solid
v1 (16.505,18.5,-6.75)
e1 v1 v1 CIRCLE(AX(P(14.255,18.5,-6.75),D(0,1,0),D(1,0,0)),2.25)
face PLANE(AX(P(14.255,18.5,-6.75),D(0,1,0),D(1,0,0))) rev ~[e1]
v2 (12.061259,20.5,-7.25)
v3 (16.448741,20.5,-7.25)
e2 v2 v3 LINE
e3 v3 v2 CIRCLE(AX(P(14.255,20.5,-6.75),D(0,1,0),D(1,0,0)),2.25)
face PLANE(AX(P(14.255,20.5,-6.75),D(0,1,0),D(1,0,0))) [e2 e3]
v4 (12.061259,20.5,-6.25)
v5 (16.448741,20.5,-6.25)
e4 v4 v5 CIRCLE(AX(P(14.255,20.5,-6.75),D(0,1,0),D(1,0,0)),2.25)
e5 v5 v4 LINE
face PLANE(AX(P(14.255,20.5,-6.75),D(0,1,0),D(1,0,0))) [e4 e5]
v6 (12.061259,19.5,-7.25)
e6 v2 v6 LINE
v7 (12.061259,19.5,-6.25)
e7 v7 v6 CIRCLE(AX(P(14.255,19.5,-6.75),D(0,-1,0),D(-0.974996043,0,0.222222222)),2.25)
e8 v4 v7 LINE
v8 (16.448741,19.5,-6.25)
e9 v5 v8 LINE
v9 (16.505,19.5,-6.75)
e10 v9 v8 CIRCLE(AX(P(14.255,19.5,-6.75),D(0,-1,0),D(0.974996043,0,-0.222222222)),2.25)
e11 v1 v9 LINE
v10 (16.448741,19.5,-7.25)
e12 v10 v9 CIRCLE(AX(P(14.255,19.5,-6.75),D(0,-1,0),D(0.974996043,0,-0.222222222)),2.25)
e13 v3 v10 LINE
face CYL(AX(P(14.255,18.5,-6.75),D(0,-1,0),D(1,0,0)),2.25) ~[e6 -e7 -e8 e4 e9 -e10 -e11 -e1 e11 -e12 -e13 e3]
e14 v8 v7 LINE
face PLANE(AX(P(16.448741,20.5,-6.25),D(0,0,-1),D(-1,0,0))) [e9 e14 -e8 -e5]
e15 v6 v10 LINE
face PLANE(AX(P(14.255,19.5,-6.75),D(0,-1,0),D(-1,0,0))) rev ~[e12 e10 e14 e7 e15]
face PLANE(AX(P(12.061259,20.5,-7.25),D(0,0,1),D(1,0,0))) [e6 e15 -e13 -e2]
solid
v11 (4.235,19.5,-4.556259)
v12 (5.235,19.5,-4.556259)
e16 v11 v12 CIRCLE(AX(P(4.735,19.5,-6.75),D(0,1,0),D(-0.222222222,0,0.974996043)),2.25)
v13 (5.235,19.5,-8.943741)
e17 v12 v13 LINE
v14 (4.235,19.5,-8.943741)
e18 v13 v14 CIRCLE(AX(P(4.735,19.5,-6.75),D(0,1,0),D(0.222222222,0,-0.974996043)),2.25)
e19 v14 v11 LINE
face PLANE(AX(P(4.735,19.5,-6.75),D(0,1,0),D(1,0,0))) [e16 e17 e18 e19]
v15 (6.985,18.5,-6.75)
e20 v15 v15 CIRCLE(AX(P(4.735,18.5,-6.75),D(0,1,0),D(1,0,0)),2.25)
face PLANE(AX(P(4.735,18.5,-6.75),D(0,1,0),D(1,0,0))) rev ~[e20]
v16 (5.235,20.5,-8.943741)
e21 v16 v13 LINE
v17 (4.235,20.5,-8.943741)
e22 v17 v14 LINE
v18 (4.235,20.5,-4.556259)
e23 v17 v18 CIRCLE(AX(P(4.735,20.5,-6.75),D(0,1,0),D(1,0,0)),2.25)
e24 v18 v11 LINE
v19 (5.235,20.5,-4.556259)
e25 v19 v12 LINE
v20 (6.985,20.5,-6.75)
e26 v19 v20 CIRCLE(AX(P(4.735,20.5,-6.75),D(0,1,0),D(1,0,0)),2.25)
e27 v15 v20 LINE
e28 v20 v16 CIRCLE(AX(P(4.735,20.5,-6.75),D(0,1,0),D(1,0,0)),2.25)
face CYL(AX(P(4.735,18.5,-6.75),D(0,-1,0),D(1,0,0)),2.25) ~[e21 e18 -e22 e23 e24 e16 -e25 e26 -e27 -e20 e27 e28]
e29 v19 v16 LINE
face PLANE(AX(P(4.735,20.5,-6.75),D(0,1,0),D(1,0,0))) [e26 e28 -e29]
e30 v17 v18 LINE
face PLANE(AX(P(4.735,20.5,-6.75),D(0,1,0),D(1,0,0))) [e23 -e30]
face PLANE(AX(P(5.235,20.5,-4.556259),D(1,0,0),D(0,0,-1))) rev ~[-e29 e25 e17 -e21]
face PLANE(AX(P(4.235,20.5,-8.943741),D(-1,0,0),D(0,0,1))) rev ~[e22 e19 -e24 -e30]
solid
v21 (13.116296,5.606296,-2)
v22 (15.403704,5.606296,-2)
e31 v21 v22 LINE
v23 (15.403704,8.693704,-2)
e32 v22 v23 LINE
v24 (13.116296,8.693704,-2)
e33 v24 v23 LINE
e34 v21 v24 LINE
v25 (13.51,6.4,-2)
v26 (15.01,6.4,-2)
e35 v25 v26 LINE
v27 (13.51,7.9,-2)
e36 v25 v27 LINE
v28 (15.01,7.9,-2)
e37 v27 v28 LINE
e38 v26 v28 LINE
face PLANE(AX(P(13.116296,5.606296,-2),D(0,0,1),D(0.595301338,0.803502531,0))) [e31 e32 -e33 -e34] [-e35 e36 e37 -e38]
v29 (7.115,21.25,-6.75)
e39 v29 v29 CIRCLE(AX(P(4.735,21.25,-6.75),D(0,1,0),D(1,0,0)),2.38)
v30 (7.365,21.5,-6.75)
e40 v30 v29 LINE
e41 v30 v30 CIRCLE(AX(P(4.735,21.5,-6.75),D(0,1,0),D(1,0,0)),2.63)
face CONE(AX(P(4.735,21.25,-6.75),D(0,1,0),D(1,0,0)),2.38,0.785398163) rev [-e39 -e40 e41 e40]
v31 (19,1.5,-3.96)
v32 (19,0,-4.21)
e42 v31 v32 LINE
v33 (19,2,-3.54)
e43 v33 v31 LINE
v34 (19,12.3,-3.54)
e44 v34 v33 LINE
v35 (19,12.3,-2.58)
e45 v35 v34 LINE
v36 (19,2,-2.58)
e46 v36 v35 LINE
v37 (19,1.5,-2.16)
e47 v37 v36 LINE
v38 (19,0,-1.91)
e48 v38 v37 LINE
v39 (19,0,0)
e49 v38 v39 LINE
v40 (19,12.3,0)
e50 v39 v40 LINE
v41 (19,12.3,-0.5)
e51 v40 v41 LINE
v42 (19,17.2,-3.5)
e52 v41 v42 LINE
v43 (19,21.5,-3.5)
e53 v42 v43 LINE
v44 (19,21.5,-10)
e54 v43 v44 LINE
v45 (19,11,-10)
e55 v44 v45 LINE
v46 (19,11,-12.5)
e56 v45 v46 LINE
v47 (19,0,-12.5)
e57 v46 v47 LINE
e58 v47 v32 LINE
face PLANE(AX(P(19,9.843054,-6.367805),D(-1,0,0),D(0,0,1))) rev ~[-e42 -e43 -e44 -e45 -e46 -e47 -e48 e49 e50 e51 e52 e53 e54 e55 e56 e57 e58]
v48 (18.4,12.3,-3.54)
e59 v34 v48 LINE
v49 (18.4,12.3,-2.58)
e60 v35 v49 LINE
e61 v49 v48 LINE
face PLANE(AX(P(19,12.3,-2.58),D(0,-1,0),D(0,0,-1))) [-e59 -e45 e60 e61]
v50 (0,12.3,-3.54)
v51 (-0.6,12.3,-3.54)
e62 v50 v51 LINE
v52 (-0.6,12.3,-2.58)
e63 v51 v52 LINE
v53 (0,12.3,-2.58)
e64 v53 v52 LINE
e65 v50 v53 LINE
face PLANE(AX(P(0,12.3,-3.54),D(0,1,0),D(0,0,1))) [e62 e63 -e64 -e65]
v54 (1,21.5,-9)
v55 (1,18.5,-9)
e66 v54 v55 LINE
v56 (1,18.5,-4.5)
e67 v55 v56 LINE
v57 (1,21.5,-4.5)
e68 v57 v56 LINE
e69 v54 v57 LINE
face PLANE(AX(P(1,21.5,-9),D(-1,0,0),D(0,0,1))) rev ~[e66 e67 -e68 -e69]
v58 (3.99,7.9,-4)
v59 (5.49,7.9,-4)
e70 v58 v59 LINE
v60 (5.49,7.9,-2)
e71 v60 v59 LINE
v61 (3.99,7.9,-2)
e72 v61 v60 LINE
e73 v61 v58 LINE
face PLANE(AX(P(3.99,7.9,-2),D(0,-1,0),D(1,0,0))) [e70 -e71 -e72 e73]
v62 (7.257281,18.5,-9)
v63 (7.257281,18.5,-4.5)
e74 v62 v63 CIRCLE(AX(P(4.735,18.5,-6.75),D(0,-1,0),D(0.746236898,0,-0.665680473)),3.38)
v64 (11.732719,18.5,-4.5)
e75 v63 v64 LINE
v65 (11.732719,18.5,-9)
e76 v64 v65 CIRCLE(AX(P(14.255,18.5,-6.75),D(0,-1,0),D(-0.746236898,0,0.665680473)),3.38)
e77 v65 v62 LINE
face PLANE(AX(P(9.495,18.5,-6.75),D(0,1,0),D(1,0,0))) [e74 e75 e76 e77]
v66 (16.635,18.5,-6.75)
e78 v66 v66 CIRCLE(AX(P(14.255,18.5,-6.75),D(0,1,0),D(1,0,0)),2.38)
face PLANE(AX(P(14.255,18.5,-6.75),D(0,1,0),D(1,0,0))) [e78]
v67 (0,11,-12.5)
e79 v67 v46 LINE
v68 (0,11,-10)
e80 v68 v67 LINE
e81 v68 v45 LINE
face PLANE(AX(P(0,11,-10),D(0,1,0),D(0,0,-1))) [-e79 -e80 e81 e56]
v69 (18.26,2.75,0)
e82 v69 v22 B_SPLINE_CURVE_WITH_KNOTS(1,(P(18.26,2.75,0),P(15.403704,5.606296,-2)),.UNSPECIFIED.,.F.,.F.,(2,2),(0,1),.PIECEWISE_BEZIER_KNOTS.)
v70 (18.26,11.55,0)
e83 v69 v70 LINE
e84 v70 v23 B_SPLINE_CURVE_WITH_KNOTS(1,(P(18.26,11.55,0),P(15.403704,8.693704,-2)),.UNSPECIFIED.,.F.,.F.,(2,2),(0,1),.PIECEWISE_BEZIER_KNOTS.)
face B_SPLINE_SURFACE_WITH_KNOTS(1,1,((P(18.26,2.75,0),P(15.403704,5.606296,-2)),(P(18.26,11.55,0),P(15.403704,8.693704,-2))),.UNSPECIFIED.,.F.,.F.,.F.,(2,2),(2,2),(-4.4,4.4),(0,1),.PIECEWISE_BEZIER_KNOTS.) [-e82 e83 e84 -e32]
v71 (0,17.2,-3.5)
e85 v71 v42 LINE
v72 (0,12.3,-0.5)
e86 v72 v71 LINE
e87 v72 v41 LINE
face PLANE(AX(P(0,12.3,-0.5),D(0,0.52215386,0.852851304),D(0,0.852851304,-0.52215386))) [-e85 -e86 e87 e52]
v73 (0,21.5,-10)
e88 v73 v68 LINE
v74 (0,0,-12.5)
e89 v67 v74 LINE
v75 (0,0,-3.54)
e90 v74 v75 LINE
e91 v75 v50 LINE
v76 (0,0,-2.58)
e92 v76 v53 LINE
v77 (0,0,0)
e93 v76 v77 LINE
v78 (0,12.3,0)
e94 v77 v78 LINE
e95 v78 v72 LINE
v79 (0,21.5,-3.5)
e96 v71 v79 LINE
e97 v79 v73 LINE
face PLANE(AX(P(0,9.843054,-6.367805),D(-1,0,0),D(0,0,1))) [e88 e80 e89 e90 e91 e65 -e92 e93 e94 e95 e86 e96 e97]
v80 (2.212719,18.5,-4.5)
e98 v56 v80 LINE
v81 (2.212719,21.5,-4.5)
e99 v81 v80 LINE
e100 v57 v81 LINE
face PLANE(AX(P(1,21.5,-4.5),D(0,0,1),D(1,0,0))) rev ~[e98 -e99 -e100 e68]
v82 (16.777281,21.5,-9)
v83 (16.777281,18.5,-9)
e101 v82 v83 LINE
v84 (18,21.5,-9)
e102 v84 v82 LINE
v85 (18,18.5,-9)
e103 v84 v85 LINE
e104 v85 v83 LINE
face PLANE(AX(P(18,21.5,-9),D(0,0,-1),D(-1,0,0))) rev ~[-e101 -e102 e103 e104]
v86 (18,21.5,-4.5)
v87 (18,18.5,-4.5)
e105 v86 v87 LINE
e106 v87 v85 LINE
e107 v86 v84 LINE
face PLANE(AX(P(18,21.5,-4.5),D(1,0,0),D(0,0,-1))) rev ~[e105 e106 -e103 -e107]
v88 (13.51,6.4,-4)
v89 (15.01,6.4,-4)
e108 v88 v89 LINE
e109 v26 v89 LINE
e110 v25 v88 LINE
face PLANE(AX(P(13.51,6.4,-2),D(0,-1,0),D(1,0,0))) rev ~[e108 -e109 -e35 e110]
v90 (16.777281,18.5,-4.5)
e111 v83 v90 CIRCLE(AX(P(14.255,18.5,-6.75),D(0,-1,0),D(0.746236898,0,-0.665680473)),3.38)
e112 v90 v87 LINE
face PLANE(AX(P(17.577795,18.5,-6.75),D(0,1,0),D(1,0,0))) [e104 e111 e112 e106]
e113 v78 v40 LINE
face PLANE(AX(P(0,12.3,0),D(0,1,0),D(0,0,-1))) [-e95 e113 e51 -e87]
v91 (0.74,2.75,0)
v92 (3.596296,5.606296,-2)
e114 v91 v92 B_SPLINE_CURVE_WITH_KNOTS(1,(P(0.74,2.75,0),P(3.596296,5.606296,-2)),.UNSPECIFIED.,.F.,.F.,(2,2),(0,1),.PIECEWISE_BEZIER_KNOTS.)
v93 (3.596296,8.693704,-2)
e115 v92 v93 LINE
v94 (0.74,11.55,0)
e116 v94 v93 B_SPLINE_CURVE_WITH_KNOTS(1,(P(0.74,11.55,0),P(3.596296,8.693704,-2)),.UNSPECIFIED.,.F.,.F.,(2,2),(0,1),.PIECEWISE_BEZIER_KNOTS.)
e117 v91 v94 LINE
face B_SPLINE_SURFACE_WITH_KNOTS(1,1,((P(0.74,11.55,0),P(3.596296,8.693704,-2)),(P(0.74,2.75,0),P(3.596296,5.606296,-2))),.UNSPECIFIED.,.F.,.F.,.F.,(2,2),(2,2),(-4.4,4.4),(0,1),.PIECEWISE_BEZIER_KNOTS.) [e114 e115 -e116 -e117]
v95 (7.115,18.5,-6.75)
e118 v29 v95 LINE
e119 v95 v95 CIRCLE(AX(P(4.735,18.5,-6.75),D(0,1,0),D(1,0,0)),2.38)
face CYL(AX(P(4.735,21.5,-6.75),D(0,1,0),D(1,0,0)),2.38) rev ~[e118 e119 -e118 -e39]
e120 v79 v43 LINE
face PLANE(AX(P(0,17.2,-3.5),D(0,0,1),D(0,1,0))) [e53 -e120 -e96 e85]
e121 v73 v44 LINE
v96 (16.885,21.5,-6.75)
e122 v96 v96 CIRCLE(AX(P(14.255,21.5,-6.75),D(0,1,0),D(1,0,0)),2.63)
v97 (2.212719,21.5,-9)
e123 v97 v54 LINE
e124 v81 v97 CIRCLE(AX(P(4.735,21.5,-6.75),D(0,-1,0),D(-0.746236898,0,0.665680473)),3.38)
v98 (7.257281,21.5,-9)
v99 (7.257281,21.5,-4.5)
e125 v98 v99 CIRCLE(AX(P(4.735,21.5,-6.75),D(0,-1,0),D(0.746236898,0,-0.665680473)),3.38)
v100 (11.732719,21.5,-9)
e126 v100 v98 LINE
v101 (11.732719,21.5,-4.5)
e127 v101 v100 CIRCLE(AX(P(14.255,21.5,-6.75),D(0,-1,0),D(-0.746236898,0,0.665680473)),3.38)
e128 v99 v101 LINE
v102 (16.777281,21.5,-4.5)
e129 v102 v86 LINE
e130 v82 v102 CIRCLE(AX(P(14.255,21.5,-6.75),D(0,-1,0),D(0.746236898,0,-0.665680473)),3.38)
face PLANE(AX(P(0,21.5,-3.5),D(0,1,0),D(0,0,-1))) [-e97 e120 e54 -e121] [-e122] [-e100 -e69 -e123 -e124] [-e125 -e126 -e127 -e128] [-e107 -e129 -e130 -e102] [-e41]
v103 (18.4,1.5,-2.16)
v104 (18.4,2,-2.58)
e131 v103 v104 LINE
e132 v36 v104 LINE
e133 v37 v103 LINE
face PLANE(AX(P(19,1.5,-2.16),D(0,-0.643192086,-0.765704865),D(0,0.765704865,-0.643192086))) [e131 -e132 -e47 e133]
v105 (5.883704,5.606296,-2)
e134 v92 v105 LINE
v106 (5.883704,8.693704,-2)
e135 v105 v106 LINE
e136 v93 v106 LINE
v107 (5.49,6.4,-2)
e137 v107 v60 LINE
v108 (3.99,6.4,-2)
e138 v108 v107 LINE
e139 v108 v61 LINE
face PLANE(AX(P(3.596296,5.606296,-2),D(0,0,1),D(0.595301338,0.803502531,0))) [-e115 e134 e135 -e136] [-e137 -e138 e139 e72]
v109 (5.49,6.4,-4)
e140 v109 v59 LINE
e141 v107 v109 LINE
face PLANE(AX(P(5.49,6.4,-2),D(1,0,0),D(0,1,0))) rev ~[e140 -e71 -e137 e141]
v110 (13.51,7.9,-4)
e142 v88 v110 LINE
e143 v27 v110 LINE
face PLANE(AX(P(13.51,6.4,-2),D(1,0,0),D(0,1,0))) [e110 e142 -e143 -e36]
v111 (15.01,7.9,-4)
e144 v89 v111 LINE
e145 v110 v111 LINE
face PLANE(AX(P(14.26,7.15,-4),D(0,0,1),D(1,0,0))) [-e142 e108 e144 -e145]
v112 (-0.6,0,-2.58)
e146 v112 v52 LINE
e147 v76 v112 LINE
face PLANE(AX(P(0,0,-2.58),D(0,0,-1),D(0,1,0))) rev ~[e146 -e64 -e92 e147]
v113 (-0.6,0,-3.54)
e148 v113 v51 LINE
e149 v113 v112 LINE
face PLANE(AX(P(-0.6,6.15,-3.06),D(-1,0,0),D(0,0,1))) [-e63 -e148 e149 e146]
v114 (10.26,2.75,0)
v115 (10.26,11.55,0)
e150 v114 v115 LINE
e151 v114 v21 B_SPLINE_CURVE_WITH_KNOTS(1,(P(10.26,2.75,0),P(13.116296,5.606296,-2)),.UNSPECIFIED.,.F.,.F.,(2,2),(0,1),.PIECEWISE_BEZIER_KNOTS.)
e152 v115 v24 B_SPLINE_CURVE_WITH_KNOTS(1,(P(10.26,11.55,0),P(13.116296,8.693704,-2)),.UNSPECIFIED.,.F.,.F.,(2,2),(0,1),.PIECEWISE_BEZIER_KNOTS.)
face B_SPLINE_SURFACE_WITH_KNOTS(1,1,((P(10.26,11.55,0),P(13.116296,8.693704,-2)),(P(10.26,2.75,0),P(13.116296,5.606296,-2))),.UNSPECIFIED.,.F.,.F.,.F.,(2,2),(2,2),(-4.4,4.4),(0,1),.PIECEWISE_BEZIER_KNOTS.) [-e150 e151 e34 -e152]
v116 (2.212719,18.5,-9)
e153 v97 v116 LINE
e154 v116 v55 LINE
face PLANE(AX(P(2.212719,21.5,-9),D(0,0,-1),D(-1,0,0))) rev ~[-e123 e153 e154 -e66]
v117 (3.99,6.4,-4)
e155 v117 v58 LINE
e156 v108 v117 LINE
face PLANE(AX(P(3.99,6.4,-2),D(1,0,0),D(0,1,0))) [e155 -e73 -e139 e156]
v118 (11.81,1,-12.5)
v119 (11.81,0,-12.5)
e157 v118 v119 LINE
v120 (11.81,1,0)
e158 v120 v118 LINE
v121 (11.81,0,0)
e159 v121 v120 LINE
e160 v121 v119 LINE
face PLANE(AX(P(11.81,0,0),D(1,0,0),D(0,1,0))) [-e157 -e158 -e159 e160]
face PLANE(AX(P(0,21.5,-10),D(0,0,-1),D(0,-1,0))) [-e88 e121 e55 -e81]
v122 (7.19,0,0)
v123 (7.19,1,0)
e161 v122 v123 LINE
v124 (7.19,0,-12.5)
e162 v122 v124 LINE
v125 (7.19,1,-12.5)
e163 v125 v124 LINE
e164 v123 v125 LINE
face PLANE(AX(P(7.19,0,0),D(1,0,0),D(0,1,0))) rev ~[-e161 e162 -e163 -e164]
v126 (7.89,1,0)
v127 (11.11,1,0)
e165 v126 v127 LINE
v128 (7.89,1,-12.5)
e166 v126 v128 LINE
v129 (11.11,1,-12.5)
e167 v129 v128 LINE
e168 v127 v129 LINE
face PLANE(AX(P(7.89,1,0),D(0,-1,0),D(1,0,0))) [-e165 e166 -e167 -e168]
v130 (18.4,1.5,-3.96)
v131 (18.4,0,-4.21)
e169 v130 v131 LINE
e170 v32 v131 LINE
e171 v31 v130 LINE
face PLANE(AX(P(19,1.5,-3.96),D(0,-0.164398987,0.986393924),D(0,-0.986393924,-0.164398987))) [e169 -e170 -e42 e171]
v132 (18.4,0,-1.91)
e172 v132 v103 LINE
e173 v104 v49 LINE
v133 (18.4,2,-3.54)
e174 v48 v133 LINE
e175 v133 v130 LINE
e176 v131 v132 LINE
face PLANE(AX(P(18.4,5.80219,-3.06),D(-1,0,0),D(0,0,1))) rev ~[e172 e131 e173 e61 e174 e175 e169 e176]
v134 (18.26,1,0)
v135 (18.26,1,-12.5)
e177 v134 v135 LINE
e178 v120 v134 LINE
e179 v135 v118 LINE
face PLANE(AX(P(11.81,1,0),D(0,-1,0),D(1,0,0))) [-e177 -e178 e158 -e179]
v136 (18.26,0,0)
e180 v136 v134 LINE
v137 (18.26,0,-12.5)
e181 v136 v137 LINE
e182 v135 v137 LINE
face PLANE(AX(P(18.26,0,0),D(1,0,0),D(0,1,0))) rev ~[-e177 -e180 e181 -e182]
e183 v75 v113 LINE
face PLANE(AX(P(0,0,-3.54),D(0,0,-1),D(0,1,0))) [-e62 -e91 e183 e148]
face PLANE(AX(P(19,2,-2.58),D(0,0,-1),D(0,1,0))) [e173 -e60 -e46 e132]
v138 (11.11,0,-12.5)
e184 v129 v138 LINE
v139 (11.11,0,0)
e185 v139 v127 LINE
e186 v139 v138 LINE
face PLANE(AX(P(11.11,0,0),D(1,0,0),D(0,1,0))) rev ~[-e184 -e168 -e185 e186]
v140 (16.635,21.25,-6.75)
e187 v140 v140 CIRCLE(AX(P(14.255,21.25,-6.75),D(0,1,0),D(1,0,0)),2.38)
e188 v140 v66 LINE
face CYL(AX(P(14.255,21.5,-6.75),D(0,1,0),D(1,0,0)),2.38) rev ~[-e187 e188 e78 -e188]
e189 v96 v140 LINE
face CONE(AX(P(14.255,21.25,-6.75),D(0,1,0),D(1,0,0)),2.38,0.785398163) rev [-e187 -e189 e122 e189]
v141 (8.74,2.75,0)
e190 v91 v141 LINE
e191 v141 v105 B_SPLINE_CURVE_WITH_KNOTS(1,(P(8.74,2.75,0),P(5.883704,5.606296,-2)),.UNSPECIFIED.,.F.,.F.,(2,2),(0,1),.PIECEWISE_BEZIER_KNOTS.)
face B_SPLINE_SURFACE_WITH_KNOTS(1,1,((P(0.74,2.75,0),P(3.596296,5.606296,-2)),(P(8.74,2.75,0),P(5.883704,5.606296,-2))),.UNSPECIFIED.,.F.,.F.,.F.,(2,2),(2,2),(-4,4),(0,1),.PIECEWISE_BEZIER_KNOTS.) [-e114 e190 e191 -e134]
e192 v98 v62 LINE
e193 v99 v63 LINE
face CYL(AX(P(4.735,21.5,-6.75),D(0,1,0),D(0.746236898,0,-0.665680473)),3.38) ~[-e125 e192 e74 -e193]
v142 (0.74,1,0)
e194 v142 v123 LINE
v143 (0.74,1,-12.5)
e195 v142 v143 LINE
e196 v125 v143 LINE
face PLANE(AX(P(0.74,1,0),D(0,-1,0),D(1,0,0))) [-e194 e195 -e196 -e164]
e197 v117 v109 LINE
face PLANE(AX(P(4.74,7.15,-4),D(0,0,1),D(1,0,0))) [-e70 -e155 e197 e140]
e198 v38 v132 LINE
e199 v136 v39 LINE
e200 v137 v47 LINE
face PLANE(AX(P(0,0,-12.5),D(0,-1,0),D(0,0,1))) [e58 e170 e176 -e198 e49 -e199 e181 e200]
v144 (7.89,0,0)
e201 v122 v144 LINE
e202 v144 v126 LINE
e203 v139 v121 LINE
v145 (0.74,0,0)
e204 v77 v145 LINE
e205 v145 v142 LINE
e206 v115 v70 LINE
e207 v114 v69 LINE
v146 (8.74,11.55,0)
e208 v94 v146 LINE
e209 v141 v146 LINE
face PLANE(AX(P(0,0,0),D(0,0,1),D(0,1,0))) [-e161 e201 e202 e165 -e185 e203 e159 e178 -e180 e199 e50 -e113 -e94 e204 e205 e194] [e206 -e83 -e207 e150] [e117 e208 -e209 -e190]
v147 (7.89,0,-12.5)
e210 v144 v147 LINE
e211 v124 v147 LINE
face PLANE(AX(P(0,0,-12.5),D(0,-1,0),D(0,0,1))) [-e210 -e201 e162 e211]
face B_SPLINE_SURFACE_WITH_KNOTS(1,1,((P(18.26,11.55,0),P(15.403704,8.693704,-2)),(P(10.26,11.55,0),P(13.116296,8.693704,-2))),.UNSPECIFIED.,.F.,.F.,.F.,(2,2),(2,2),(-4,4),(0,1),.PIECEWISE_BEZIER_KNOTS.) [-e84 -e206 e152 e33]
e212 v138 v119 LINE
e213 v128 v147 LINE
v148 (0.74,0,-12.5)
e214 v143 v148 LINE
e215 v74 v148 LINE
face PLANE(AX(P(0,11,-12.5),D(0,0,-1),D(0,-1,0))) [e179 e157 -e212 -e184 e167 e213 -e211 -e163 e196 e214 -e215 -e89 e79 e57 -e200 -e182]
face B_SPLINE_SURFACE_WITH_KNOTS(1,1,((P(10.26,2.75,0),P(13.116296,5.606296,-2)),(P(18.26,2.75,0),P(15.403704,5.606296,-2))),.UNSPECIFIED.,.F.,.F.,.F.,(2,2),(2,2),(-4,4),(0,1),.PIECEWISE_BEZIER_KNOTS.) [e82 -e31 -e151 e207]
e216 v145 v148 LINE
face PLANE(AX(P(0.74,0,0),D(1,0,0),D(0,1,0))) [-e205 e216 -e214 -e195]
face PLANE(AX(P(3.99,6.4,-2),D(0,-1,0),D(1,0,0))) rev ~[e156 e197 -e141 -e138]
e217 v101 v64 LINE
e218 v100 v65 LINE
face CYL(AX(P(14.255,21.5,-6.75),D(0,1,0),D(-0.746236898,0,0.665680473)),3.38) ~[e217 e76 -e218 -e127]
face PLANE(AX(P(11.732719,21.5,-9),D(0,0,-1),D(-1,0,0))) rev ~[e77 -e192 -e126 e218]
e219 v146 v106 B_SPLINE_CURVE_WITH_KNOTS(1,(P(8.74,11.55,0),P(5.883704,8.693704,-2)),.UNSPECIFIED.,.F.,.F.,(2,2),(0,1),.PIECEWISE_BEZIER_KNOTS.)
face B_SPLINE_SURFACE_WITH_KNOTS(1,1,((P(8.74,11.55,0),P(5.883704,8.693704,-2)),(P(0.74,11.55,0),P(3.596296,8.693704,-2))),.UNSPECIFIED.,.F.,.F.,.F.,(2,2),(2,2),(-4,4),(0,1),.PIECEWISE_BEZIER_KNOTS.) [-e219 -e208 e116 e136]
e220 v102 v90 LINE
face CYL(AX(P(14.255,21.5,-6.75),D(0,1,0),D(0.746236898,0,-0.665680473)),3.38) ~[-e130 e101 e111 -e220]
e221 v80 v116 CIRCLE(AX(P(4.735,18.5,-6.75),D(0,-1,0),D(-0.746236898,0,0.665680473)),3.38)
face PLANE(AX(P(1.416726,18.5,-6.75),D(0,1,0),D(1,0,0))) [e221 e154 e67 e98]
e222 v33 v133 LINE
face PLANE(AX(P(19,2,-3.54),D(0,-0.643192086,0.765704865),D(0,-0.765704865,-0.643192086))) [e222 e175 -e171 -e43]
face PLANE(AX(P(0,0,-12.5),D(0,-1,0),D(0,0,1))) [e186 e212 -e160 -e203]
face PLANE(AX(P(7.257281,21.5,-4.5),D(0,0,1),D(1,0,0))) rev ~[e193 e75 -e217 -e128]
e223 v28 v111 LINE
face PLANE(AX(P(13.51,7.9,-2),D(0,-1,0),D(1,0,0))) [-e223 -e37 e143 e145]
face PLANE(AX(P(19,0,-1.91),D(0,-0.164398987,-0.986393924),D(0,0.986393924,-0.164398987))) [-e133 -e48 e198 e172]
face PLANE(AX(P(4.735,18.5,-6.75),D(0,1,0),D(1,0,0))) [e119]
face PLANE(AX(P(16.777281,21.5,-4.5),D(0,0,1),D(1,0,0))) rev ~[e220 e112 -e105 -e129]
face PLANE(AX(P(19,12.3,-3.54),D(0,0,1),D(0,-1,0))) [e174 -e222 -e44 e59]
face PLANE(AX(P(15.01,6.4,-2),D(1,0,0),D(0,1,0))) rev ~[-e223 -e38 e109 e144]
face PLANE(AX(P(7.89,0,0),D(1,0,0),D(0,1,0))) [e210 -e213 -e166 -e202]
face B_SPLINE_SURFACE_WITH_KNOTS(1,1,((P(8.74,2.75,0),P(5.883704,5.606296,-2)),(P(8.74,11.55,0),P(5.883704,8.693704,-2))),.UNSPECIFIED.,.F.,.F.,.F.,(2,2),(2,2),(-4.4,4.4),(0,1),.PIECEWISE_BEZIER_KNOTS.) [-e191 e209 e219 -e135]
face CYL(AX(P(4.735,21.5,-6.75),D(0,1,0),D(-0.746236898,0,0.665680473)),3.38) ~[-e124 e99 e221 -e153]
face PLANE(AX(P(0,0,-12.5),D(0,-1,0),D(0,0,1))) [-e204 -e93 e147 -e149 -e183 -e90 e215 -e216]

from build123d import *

# Parameters (mm, degrees)
BOSS_EXTRUDE1_DEPTH   = 19
SKETCH2_R             = 2.38
CUT_EXTRUDE1_DEPTH    = 3
CUT_EXTRUDE2_DEPTH    = 0.6
SKETCH4_W             = 0.96
SKETCH4_H             = 12.3
BOSS_EXTRUDE2_DEPTH   = 0.6
CHAMFER1_SIZE         = 0.25
SKETCH6_R             = 2.25
BOSS_EXTRUDE3_DEPTH   = 2
BOSS_EXTRUDE3_2_DEPTH = 2
CUT_EXTRUDE3_DEPTH    = 1
SKETCH8_W             = 8
SKETCH8_H             = 8.8
CUT_EXTRUDE4_DEPTH    = 2
CUT_EXTRUDE4_TAPER    = 55
SKETCH9_W             = 1.5
SKETCH9_H             = 1.5
CUT_EXTRUDE5_DEPTH    = 2
SKETCH10_W            = 6.45
SKETCH10_H            = 1
SKETCH10_W_2          = 3.22
CUT_EXTRUDE6_DEPTH    = 13.5


with BuildPart() as part:
    # Sketch1 → Boss-Extrude1 (new body)
    with BuildSketch(Plane(origin=(0, 0, 0), x_dir=(0, 0, -1), z_dir=(1, 0, 0))):
        Polygon((0, 0), (0, 12.3), (0.5, 12.3), (3.5, 17.2), (3.5, 21.5), (10, 21.5), (10, 11), (12.5, 11), (12.5, 0), align=None)
    extrude(amount=BOSS_EXTRUDE1_DEPTH)

    # Sketch2 → Cut-Extrude1 (cut)
    with BuildSketch(Plane(origin=(0, 21.5, 0), x_dir=(1, 0, 0), z_dir=(0, 1, 0))):
        with Locations((4.735, 6.75)):
            Circle(SKETCH2_R)
        with Locations((14.255, 6.75)):
            Circle(SKETCH2_R)
        with BuildLine():
            Line((16.777280714, 4.5), (18, 4.5))
            Line((18, 4.5), (18, 9))
            Line((18, 9), (16.777280714, 9))
            ThreePointArc((16.777280714, 9), (17.635, 6.75), (16.777280714, 4.5))
        make_face()
        with BuildLine():
            Line((11.732719286, 9), (7.257280714, 9))
            ThreePointArc((7.257280714, 9), (8.115, 6.75), (7.257280714, 4.5))
            Line((7.257280714, 4.5), (11.732719286, 4.5))
            ThreePointArc((11.732719286, 4.5), (10.875, 6.75), (11.732719286, 9))
        make_face()
        with BuildLine():
            Line((1, 9), (1, 4.5))
            Line((1, 4.5), (2.212719286, 4.5))
            ThreePointArc((2.212719286, 4.5), (1.355, 6.75), (2.212719286, 9))
            Line((2.212719286, 9), (1, 9))
        make_face()
    extrude(amount=-CUT_EXTRUDE1_DEPTH, mode=Mode.SUBTRACT)

    # Sketch3 → Cut-Extrude2 (cut)
    with BuildSketch(Plane(origin=(19, 0, 0), x_dir=(0, 0, -1), z_dir=(1, 0, 0))):
        Polygon((1.91, 0), (2.16, 1.5), (2.58, 2), (2.58, 12.3), (3.54, 12.3), (3.54, 2), (3.96, 1.5), (4.21, 0), align=None)
    extrude(amount=-CUT_EXTRUDE2_DEPTH, mode=Mode.SUBTRACT)

    # Sketch4 → Boss-Extrude2 (add)
    with BuildSketch(Plane.ZY):
        with Locations((-3.06, 6.15)):
            Rectangle(SKETCH4_W, SKETCH4_H)
    extrude(amount=BOSS_EXTRUDE2_DEPTH)

    # Chamfer1
    chamfer1_edges = [part.edges().sort_by_distance(p)[0] for p in [
        (2.355, 21.5, -6.75),
        (11.875, 21.5, -6.75),
    ]]
    chamfer(chamfer1_edges, length=CHAMFER1_SIZE)

    # Sketch8 → Cut-Extrude4 (cut)
    with BuildSketch(Plane.XY):
        with Locations((14.26, 7.15)):
            Rectangle(SKETCH8_W, SKETCH8_H)
        with Locations((4.74, 7.15)):
            Rectangle(SKETCH8_W, SKETCH8_H)
    extrude(amount=-CUT_EXTRUDE4_DEPTH, taper=CUT_EXTRUDE4_TAPER, mode=Mode.SUBTRACT)

    # Sketch9 → Cut-Extrude5 (cut)
    with BuildSketch(Plane.XY.offset(-2)):
        with Locations((4.74, 7.15)):
            Rectangle(SKETCH9_W, SKETCH9_H)
        with Locations((14.26, 7.15)):
            Rectangle(SKETCH9_W, SKETCH9_H)
    extrude(amount=-CUT_EXTRUDE5_DEPTH, mode=Mode.SUBTRACT)

    # Sketch10 → Cut-Extrude6 (cut, through all)
    with BuildSketch(Plane.XY):
        with Locations((3.965, 0.5)):
            Rectangle(SKETCH10_W, SKETCH10_H)
        with Locations((9.5, 0.5)):
            Rectangle(SKETCH10_W_2, SKETCH10_H)
        with Locations((15.035, 0.5)):
            Rectangle(SKETCH10_W, SKETCH10_H)
    extrude(amount=-CUT_EXTRUDE6_DEPTH, mode=Mode.SUBTRACT)


with BuildPart() as body_2:
    # Sketch6 → Boss-Extrude3 (new body)
    with BuildSketch(Plane(origin=(0, 18.5, 0), x_dir=(1, 0, 0), z_dir=(0, 1, 0))):
        with Locations((14.255, 6.75)):
            Circle(SKETCH6_R)
    extrude(amount=BOSS_EXTRUDE3_DEPTH)


with BuildPart() as body_3:
    # Sketch6 → Boss-Extrude3 2 (new body)
    with BuildSketch(Plane(origin=(0, 18.5, 0), x_dir=(1, 0, 0), z_dir=(0, 1, 0))):
        with Locations((4.735, 6.75)):
            Circle(SKETCH6_R)
    extrude(amount=BOSS_EXTRUDE3_2_DEPTH)


with BuildPart() as cut_extrude3_tool:
    # Sketch7 → Cut-Extrude3 (new body)
    with BuildSketch(Plane(origin=(0, 20.5, 0), x_dir=(1, 0, 0), z_dir=(0, 1, 0))):
        with BuildLine():
            Line((4.235, 8.943741097), (4.235, 4.556258903))
            ThreePointArc((4.235, 4.556258903), (4.735, 4.5), (5.235, 4.556258903))
            Line((5.235, 4.556258903), (5.235, 8.943741097))
            ThreePointArc((5.235, 8.943741097), (4.735, 9), (4.235, 8.943741097))
        make_face()
        with BuildLine():
            Line((12.061258903, 7.25), (16.448741097, 7.25))
            ThreePointArc((16.448741097, 7.25), (16.505, 6.75), (16.448741097, 6.25))
            Line((16.448741097, 6.25), (12.061258903, 6.25))
            ThreePointArc((12.061258903, 6.25), (12.005, 6.75), (12.061258903, 7.25))
        make_face()
    extrude(amount=-CUT_EXTRUDE3_DEPTH)


with BuildPart() as body_2_1:
    add(body_2.part)

    # Cut-Extrude3: cut by cut_extrude3_tool
    add(cut_extrude3_tool.part, mode=Mode.SUBTRACT)


with BuildPart() as body_3_1:
    add(body_3.part)

    # Cut-Extrude3: cut by cut_extrude3_tool
    add(cut_extrude3_tool.part, mode=Mode.SUBTRACT)


solid = Compound([part.part, body_2_1.part, body_3_1.part])
